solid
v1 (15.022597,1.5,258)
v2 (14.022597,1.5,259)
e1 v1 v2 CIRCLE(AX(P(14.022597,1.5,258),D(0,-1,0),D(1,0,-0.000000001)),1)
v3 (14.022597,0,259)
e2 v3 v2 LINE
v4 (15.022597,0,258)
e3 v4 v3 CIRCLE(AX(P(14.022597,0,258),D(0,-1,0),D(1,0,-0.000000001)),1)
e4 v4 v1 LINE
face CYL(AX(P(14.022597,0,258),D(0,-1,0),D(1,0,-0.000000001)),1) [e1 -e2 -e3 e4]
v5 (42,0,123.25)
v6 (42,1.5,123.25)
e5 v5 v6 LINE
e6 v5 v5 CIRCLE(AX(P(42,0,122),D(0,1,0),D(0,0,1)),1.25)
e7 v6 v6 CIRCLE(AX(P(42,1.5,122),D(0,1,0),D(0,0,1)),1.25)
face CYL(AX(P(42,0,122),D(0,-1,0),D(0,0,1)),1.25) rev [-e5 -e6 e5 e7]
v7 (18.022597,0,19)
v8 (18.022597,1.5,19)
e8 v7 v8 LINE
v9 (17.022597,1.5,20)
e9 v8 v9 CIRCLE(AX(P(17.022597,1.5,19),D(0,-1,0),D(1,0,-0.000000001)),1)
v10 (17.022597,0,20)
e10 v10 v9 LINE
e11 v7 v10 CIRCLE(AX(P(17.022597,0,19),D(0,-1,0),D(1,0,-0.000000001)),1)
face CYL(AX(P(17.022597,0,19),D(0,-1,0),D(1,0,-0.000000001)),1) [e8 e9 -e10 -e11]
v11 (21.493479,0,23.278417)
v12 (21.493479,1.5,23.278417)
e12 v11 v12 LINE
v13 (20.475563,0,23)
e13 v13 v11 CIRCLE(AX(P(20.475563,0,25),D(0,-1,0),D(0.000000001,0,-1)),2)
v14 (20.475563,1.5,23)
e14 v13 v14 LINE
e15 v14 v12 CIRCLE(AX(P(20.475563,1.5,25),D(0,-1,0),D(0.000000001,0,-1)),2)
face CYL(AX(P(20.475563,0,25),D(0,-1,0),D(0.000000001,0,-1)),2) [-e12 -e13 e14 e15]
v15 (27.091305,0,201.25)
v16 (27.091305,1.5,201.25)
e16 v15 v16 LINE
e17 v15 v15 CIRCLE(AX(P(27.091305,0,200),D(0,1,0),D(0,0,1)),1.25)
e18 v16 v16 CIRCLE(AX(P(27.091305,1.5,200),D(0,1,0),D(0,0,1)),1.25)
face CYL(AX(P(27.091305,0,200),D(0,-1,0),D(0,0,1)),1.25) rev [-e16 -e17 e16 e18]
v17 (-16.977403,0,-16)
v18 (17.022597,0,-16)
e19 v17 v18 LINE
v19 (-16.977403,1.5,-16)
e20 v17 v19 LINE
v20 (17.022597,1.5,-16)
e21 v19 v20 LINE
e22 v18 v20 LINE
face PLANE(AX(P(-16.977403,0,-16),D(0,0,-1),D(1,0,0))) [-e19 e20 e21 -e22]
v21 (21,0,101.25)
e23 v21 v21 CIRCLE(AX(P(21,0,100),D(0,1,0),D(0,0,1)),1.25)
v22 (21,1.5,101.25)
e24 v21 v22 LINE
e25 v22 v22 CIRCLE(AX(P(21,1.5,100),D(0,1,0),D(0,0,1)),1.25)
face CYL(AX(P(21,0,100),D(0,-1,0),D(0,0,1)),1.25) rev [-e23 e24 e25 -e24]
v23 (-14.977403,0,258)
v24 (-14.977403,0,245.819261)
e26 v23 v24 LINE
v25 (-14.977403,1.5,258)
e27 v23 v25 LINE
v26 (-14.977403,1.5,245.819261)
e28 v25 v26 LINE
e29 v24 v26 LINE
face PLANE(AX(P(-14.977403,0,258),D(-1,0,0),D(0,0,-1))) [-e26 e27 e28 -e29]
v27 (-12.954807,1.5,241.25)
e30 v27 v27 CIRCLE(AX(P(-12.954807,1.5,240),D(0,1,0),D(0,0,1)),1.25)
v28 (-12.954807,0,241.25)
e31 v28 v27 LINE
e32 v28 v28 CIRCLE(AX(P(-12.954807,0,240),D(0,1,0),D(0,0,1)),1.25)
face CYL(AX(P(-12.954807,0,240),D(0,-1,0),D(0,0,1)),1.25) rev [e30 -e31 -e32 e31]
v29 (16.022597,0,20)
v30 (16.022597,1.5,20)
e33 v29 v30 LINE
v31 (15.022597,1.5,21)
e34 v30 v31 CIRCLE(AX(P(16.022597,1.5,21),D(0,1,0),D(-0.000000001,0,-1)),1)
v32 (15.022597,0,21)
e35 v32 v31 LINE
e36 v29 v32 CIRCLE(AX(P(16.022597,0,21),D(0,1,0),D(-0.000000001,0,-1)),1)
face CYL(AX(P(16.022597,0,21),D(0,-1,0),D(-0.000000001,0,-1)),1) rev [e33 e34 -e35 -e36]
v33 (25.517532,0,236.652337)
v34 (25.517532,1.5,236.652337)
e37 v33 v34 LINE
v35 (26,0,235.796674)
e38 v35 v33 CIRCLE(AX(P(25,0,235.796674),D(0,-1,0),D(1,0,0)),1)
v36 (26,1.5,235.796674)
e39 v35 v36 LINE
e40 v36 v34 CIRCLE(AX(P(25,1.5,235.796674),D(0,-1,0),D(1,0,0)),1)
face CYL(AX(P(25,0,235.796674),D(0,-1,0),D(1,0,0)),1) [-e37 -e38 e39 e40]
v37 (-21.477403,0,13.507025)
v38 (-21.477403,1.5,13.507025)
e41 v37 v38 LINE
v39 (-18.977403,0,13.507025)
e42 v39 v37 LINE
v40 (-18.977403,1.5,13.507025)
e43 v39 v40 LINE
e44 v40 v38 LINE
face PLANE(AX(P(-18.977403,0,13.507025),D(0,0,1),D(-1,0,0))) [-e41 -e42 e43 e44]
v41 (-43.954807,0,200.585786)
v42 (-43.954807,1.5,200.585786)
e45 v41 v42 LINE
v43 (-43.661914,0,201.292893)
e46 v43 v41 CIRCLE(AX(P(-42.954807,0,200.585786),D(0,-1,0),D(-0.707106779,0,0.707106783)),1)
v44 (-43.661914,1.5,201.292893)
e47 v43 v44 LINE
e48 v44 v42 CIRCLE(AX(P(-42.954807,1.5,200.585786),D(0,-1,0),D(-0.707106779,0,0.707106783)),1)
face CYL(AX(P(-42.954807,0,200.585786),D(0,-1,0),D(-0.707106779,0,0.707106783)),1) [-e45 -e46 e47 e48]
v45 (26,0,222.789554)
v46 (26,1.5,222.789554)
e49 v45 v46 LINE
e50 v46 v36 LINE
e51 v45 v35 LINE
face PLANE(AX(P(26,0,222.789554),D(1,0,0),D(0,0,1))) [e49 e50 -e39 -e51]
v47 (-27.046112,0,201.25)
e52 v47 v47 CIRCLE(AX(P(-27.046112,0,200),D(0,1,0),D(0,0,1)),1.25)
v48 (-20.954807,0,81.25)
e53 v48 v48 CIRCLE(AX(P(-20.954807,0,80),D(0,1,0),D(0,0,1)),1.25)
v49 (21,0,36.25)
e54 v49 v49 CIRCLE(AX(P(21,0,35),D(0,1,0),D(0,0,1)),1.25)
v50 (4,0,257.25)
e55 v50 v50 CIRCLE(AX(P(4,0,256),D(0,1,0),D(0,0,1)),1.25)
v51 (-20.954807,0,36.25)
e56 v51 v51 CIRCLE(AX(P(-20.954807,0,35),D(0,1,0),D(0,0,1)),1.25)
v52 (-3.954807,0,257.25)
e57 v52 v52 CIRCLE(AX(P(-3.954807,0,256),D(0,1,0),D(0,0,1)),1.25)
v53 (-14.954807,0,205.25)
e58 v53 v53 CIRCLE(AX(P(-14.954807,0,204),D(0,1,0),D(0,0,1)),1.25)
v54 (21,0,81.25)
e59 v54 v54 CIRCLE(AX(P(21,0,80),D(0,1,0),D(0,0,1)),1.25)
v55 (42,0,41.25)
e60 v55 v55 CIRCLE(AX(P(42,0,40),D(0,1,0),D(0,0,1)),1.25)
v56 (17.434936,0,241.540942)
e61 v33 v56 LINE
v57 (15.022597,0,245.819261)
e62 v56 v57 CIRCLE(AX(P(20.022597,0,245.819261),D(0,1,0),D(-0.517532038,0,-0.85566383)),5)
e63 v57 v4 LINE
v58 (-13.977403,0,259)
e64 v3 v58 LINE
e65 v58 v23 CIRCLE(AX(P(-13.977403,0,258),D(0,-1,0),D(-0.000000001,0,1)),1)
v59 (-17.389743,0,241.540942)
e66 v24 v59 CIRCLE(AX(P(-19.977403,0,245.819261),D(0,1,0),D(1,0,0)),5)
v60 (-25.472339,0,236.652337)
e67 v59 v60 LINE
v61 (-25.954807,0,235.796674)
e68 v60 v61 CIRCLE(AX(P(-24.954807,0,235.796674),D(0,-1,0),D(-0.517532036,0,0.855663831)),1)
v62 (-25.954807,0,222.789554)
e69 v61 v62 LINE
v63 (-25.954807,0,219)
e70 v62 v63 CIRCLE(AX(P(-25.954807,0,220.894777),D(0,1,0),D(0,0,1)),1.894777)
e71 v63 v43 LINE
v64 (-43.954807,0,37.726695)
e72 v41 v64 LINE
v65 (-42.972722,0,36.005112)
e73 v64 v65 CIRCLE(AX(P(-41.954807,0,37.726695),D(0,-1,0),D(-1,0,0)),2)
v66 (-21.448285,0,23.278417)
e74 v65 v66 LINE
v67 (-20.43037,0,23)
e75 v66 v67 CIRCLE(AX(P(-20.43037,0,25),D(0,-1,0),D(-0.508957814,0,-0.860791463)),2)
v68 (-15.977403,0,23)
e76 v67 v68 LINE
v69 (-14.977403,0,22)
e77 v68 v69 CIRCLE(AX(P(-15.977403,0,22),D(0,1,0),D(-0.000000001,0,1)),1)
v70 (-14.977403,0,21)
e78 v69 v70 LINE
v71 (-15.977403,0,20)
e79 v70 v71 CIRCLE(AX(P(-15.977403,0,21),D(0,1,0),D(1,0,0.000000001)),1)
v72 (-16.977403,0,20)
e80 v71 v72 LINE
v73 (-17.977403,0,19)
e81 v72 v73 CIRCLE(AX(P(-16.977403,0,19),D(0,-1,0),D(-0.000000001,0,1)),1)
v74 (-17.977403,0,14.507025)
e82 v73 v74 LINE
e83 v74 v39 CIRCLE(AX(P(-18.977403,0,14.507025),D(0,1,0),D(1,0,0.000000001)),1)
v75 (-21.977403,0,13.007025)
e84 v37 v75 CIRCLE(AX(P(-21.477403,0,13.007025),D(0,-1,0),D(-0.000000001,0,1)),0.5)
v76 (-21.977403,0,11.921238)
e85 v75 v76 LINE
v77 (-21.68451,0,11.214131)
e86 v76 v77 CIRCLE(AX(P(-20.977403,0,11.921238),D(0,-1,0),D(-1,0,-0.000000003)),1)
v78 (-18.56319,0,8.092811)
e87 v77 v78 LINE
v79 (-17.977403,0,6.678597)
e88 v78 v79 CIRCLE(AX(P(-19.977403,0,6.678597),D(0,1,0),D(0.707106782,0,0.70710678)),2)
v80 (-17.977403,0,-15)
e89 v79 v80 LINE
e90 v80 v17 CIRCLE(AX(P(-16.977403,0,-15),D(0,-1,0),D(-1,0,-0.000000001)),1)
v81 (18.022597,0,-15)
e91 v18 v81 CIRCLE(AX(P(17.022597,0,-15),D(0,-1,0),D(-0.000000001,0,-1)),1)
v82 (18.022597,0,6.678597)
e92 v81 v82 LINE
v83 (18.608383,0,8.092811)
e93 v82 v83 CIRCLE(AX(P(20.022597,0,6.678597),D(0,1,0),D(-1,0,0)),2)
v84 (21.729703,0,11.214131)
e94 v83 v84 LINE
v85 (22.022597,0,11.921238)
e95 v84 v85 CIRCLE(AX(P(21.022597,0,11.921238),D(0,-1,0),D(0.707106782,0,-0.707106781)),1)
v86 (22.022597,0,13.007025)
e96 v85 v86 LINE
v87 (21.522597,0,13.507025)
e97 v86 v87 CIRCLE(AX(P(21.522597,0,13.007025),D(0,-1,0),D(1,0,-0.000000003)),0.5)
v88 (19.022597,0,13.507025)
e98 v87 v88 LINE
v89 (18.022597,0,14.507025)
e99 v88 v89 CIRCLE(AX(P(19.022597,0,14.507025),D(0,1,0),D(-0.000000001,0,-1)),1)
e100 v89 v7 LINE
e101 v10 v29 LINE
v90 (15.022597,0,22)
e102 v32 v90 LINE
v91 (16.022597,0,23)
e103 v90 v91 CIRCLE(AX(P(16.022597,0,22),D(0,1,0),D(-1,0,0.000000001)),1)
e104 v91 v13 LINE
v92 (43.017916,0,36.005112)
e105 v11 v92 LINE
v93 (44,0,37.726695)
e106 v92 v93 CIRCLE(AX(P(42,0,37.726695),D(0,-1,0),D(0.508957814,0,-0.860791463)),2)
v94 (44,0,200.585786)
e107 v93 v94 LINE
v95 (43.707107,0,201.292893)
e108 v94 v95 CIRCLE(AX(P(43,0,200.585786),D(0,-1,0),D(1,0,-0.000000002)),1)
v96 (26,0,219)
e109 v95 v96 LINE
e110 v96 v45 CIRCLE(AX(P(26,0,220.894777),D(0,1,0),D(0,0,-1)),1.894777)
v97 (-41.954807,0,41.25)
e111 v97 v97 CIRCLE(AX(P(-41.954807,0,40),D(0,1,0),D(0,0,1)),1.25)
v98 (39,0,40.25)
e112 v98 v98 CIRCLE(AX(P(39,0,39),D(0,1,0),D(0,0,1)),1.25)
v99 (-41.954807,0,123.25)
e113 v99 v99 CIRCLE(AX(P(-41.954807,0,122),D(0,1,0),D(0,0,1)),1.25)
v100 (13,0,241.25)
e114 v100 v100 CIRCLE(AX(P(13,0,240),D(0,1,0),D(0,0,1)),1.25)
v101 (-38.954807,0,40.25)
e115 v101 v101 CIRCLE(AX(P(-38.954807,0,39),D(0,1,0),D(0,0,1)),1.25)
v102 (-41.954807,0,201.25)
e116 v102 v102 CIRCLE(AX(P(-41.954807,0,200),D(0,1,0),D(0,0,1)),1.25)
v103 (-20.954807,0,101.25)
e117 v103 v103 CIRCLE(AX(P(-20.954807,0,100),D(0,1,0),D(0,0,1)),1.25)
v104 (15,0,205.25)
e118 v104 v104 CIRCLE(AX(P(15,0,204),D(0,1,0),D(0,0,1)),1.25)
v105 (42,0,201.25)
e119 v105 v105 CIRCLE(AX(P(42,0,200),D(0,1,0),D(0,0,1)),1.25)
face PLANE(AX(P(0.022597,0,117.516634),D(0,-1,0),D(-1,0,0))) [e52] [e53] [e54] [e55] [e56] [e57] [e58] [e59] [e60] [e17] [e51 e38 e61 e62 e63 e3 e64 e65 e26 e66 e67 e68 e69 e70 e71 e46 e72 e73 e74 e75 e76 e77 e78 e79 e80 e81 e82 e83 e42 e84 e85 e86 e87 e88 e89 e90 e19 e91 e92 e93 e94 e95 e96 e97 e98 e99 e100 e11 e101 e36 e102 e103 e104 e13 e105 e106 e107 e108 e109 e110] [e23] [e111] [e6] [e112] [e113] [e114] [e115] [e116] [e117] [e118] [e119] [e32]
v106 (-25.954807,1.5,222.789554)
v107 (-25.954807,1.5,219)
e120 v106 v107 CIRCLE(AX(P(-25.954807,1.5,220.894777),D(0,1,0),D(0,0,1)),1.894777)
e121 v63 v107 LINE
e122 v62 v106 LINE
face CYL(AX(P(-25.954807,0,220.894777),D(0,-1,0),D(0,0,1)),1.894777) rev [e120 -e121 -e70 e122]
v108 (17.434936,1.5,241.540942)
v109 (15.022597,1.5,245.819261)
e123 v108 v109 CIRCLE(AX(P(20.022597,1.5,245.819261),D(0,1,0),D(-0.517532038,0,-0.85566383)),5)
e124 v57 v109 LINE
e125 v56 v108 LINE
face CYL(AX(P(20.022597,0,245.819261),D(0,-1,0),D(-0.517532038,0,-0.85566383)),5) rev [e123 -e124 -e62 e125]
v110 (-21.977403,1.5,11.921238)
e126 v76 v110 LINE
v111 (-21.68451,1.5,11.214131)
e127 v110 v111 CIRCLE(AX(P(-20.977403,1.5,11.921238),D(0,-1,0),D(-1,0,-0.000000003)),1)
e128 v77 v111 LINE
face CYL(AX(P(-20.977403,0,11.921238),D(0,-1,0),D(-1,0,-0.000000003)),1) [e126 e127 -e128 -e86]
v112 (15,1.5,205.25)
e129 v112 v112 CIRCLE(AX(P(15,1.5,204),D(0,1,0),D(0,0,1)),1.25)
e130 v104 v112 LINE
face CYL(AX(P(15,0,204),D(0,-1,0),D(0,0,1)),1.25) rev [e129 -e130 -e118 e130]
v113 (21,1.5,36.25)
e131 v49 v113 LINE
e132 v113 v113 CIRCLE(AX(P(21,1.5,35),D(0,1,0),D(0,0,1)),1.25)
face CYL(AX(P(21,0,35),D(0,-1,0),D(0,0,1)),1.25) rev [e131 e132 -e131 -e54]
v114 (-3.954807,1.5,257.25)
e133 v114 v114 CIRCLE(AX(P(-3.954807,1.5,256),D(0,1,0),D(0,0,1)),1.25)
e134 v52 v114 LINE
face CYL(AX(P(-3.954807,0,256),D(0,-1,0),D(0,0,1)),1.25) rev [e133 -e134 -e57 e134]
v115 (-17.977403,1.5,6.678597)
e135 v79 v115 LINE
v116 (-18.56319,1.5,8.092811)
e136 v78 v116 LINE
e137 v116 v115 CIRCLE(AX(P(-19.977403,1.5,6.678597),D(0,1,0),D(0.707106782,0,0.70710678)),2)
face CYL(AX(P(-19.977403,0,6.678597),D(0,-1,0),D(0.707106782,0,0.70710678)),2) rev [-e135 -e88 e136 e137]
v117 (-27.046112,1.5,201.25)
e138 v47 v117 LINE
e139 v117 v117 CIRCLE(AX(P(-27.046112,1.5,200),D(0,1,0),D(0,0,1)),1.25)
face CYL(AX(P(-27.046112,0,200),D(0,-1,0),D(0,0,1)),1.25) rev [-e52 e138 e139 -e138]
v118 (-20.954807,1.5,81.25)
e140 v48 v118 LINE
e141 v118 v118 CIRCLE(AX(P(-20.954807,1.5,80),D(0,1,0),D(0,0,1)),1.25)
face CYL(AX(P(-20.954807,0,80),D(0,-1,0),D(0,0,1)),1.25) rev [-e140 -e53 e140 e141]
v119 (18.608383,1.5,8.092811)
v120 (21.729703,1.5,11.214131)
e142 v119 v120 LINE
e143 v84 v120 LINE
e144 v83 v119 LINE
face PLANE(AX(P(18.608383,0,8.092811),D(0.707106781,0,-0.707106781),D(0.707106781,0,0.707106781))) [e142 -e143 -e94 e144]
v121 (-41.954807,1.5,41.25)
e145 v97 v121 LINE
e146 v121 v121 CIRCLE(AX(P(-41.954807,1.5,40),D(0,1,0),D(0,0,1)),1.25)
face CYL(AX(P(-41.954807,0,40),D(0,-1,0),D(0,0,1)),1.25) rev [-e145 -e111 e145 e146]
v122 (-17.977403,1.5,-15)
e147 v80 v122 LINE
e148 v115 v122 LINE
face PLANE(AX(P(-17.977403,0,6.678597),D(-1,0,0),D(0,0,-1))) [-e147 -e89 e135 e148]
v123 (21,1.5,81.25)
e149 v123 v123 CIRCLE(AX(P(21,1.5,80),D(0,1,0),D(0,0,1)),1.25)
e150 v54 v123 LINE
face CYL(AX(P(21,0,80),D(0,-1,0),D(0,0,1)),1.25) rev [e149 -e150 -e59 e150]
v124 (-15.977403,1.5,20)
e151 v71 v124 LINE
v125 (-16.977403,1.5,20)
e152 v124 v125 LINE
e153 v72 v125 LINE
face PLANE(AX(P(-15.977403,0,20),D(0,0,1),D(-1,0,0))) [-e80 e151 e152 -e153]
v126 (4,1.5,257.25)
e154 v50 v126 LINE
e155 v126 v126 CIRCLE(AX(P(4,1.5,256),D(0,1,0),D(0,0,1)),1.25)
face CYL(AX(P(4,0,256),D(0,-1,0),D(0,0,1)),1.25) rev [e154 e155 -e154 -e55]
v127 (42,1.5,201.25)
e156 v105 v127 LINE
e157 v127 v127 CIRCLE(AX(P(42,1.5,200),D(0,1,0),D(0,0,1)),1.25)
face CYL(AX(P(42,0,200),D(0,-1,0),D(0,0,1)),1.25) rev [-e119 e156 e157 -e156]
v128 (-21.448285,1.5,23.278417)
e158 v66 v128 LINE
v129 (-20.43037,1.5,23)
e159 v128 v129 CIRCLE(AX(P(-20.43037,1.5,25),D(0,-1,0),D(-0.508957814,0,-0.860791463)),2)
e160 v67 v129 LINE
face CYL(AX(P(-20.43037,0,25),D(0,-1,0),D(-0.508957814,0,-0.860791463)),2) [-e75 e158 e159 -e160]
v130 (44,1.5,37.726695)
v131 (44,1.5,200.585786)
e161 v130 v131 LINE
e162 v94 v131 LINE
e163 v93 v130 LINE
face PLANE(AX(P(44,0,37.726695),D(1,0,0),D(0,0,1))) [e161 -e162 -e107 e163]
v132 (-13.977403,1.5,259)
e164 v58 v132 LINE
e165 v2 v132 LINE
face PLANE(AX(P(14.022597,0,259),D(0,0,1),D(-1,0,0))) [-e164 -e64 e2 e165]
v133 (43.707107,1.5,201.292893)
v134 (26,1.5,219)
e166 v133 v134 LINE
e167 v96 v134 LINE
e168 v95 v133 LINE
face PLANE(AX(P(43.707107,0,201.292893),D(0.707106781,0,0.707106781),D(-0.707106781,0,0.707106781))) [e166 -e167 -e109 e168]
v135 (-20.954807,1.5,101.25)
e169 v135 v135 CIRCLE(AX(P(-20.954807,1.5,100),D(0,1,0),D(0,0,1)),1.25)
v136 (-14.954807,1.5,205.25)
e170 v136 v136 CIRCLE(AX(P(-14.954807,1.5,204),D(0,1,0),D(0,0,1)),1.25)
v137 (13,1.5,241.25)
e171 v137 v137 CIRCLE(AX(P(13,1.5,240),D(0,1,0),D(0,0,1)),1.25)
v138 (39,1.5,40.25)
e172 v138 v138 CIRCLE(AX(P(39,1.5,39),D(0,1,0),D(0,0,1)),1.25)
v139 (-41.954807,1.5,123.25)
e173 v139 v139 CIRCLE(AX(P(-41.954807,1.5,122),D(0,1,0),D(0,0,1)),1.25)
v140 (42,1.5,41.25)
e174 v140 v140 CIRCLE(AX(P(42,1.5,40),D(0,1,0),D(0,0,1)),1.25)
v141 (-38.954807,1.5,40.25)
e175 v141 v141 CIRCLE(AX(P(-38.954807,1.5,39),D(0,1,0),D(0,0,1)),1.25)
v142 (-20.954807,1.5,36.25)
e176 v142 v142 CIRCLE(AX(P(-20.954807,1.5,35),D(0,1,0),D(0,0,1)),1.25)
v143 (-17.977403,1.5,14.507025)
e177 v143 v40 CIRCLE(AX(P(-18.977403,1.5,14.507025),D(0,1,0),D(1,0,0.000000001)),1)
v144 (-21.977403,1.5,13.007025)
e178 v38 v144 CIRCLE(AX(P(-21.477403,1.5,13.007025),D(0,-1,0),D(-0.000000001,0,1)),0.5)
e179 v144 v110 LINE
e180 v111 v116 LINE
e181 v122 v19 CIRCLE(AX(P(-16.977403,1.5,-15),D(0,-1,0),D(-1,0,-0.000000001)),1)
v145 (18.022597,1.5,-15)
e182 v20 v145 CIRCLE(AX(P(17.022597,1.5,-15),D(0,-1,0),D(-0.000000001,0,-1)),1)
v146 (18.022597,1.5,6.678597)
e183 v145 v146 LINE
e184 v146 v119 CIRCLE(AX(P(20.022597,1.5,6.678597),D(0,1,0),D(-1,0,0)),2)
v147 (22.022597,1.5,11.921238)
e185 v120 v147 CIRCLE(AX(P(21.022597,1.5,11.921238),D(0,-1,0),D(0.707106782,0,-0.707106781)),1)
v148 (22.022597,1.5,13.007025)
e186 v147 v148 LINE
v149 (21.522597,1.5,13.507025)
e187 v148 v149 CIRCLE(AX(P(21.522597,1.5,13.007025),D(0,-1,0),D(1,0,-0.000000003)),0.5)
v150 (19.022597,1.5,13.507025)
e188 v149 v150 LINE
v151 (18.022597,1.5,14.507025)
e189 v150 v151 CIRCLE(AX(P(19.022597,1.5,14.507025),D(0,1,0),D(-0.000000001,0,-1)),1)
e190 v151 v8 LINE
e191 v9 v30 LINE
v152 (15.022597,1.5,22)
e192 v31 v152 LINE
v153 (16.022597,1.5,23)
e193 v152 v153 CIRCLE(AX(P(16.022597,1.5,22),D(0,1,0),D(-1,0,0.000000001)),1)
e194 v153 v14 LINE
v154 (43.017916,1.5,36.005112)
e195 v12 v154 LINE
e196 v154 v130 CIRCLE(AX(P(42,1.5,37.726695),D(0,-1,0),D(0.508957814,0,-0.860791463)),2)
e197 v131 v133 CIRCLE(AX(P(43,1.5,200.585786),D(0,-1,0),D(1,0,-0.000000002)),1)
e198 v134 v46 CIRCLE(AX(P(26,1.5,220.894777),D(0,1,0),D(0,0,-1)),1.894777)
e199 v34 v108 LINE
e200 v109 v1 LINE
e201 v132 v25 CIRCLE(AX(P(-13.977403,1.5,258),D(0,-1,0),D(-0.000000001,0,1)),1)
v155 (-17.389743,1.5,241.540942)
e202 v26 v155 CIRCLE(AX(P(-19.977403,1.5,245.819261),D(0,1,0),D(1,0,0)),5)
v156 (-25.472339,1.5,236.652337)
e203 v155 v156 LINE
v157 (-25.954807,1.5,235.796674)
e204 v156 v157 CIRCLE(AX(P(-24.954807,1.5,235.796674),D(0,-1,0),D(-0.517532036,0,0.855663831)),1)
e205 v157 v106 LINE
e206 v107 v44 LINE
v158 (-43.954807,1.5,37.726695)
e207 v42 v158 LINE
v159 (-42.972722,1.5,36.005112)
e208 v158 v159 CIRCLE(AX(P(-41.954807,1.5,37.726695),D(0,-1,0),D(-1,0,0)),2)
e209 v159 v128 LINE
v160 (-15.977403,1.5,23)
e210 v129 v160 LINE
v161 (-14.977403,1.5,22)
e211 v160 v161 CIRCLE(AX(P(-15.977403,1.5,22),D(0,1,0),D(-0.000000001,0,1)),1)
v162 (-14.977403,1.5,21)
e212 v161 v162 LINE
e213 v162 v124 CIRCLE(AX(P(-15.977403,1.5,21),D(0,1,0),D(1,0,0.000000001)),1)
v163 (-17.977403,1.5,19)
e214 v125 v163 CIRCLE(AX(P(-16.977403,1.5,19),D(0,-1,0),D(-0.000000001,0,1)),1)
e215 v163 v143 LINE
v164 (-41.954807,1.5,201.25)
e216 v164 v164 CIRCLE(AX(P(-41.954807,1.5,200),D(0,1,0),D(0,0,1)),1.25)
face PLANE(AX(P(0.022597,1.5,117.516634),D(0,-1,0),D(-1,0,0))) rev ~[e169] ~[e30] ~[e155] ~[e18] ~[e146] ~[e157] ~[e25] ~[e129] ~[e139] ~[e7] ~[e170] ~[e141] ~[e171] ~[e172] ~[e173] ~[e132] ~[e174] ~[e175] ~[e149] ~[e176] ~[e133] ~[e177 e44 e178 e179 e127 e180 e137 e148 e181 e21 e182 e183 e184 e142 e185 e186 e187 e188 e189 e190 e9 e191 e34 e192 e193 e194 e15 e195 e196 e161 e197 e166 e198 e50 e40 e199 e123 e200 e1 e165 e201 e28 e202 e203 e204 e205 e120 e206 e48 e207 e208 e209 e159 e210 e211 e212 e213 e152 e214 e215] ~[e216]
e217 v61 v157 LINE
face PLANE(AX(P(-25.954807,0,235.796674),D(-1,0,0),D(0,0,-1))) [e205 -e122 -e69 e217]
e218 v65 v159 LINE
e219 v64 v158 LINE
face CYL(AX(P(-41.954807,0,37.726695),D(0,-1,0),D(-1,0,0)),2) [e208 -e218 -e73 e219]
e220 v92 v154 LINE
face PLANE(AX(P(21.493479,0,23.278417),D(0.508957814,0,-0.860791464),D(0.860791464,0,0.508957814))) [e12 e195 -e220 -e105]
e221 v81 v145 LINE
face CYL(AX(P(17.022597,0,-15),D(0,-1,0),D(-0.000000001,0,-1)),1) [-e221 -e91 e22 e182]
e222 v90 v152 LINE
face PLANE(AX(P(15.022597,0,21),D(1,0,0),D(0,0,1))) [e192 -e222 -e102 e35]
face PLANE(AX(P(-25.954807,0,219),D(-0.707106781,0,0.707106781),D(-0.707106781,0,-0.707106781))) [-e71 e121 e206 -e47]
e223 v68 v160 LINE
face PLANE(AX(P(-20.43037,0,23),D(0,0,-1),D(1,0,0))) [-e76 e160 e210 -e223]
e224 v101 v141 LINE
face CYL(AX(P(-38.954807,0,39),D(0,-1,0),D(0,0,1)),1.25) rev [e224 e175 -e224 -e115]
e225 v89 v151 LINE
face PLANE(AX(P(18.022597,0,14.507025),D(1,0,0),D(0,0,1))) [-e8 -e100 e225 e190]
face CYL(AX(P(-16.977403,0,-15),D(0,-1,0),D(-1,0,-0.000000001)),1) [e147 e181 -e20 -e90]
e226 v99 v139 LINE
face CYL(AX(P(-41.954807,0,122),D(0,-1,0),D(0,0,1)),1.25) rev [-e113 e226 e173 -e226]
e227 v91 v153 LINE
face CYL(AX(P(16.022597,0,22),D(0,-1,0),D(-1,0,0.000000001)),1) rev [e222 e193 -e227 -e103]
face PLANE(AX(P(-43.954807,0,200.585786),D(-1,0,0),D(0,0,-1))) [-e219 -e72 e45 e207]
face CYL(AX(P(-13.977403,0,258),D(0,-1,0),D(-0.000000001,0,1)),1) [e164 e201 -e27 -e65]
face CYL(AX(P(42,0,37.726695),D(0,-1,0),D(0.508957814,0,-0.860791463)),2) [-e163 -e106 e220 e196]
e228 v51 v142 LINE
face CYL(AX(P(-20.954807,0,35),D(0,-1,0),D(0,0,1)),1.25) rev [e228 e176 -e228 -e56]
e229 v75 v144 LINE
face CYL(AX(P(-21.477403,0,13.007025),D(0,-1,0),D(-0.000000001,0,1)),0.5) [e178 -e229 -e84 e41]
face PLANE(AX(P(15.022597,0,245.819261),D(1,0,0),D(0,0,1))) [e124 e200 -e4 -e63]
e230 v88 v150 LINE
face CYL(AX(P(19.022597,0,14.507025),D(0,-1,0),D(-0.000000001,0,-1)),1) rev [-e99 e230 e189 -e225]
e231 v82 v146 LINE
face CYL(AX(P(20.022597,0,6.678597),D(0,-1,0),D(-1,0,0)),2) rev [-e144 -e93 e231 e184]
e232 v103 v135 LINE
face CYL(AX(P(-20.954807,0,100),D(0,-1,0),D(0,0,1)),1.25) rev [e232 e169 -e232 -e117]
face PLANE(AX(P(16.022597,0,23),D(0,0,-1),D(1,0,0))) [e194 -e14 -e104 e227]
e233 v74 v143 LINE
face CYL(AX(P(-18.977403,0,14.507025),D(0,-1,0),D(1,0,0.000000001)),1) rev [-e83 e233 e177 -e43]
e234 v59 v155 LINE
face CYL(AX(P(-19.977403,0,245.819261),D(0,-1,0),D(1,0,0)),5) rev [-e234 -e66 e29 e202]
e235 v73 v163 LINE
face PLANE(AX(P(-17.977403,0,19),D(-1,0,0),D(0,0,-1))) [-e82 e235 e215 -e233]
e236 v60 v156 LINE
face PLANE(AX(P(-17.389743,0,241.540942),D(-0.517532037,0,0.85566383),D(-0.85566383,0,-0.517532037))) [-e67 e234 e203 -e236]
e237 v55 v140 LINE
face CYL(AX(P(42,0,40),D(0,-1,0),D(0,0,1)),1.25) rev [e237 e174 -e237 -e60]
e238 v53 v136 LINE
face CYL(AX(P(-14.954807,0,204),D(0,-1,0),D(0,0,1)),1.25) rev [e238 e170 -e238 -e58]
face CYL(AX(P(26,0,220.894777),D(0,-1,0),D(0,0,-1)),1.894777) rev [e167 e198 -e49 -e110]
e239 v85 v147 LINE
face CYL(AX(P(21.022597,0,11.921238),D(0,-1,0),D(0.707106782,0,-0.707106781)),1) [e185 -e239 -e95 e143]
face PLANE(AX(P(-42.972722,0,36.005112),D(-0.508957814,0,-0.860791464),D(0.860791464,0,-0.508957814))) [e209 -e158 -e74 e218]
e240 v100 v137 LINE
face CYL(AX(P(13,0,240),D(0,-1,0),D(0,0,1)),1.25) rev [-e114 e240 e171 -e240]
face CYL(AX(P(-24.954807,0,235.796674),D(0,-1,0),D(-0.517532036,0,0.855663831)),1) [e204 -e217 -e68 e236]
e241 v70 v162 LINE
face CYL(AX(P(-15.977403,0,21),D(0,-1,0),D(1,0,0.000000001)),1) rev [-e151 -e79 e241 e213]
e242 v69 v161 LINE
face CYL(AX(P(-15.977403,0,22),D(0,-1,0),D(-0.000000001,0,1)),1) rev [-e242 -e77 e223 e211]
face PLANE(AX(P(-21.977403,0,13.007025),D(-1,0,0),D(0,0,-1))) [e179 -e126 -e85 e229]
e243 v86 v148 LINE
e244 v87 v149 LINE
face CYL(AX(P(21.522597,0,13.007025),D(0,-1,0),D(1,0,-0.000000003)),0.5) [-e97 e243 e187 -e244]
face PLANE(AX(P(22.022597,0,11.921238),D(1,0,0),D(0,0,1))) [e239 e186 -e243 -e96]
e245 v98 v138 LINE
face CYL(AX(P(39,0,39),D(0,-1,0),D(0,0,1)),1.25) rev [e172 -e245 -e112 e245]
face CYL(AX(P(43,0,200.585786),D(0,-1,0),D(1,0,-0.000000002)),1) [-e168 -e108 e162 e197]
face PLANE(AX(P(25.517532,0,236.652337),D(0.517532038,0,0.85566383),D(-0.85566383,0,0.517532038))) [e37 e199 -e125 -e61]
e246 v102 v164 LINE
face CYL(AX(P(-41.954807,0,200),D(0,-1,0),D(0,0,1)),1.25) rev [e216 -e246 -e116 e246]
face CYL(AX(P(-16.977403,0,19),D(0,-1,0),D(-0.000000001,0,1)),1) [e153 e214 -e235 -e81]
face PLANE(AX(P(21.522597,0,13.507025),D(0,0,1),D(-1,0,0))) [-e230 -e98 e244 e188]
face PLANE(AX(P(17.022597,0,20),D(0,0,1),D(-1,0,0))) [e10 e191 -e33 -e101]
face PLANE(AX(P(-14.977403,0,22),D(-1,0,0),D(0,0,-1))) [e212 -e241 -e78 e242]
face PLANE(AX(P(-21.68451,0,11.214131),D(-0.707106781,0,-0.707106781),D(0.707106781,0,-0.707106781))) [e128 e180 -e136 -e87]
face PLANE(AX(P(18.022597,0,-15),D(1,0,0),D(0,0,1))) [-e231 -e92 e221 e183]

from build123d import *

# Parameters (mm, degrees)
SKETCH2_R           = 1.25
BOSS_EXTRUDE1_DEPTH = 1.5


with BuildPart() as part:
    # Sketch2 → Boss-Extrude1 (new body)
    with BuildSketch(Plane(origin=(0, 0, 0), x_dir=(1, 0, 0), z_dir=(0, 1, 0))):
        with BuildLine():
            Line((44, -37.726695025), (44, -200.585786438))
            ThreePointArc((44, -200.585786438), (43.923879533, -200.96846987), (43.707106781, -201.292893219))
            Line((43.707106781, -201.292893219), (26, -219))
            ThreePointArc((26, -219), (24.105222952, -220.894777048), (26, -222.789554095))
            Line((26, -222.789554095), (26, -235.796673544))
            ThreePointArc((26, -235.796673544), (25.871071764, -236.287829305), (25.517532037, -236.652337374))
            Line((25.517532037, -236.652337374), (17.434936424, -241.540942021))
            ThreePointArc((17.434936424, -241.540942021), (15.667237789, -243.363482369), (15.022596611, -245.819261172))
            Line((15.022596611, -245.819261172), (15.022596611, -258))
            ThreePointArc((15.022596611, -258), (14.729703393, -258.707106781), (14.022596611, -259))
            Line((14.022596611, -259), (-13.977403389, -259))
            ThreePointArc((-13.977403389, -259), (-14.68451017, -258.707106781), (-14.977403389, -258))
            Line((-14.977403389, -258), (-14.977403389, -245.819261172))
            ThreePointArc((-14.977403389, -245.819261172), (-15.622044567, -243.363482369), (-17.389743201, -241.540942021))
            Line((-17.389743201, -241.540942021), (-25.472338815, -236.652337374))
            ThreePointArc((-25.472338815, -236.652337374), (-25.825878542, -236.287829305), (-25.954806777, -235.796673544))
            Line((-25.954806777, -235.796673544), (-25.954806777, -222.789554095))
            ThreePointArc((-25.954806777, -222.789554095), (-24.06002973, -220.894777048), (-25.954806777, -219))
            Line((-25.954806777, -219), (-43.661913558, -201.292893219))
            ThreePointArc((-43.661913558, -201.292893219), (-43.87868631, -200.96846987), (-43.954806777, -200.585786438))
            Line((-43.954806777, -200.585786438), (-43.954806777, -37.726695025))
            ThreePointArc((-43.954806777, -37.726695025), (-43.692021682, -36.735693323), (-42.972722404, -36.005112097))
            Line((-42.972722404, -36.005112097), (-21.448285322, -23.278417073))
            ThreePointArc((-21.448285322, -23.278417073), (-20.958022112, -23.070859537), (-20.430369695, -23))
            Line((-20.430369695, -23), (-15.977403389, -23))
            ThreePointArc((-15.977403389, -23), (-15.270296607, -22.707106781), (-14.977403389, -22))
            Line((-14.977403389, -22), (-14.977403389, -21))
            ThreePointArc((-14.977403389, -21), (-15.270296607, -20.292893219), (-15.977403389, -20))
            Line((-15.977403389, -20), (-16.977403389, -20))
            ThreePointArc((-16.977403389, -20), (-17.68451017, -19.707106781), (-17.977403389, -19))
            Line((-17.977403389, -19), (-17.977403389, -14.507024567))
            ThreePointArc((-17.977403389, -14.507024567), (-18.270296607, -13.799917786), (-18.977403389, -13.507024567))
            Line((-18.977403389, -13.507024567), (-21.477403389, -13.507024567))
            ThreePointArc((-21.477403389, -13.507024567), (-21.830956779, -13.360577958), (-21.977403389, -13.007024567))
            Line((-21.977403389, -13.007024567), (-21.977403389, -11.921238129))
            ThreePointArc((-21.977403389, -11.921238129), (-21.901282921, -11.538554697), (-21.68451017, -11.214131348))
            Line((-21.68451017, -11.214131348), (-18.563189826, -8.092811005))
            ThreePointArc((-18.563189826, -8.092811005), (-18.129644324, -7.443964307), (-17.977403389, -6.678597442))
            Line((-17.977403389, -6.678597442), (-17.977403389, 15))
            ThreePointArc((-17.977403389, 15), (-17.68451017, 15.707106781), (-16.977403389, 16))
            Line((-16.977403389, 16), (17.022596611, 16))
            ThreePointArc((17.022596611, 16), (17.729703393, 15.707106781), (18.022596611, 15))
            Line((18.022596611, 15), (18.022596611, -6.678597442))
            ThreePointArc((18.022596611, -6.678597442), (18.174837546, -7.443964307), (18.608383049, -8.092811005))
            Line((18.608383049, -8.092811005), (21.729703393, -11.214131348))
            ThreePointArc((21.729703393, -11.214131348), (21.946476144, -11.538554697), (22.022596611, -11.921238129))
            Line((22.022596611, -11.921238129), (22.022596611, -13.007024567))
            ThreePointArc((22.022596611, -13.007024567), (21.876150002, -13.360577958), (21.522596611, -13.507024567))
            Line((21.522596611, -13.507024567), (19.022596611, -13.507024567))
            ThreePointArc((19.022596611, -13.507024567), (18.31548983, -13.799917786), (18.022596611, -14.507024567))
            Line((18.022596611, -14.507024567), (18.022596611, -19))
            ThreePointArc((18.022596611, -19), (17.729703393, -19.707106781), (17.022596611, -20))
            Line((17.022596611, -20), (16.022596611, -20))
            ThreePointArc((16.022596611, -20), (15.31548983, -20.292893219), (15.022596611, -21))
            Line((15.022596611, -21), (15.022596611, -22))
            ThreePointArc((15.022596611, -22), (15.31548983, -22.707106781), (16.022596611, -23))
            Line((16.022596611, -23), (20.475562918, -23))
            ThreePointArc((20.475562918, -23), (21.003215334, -23.070859537), (21.493478545, -23.278417073))
            Line((21.493478545, -23.278417073), (43.017915627, -36.005112097))
            ThreePointArc((43.017915627, -36.005112097), (43.737214905, -36.735693323), (44, -37.726695025))
        make_face()
        with Locations(Location((42, -200, 0), (0, 0, 270))):
            Circle(SKETCH2_R, mode=Mode.SUBTRACT)
        with Locations(Location((27.091305327, -200, 0), (0, 0, 270))):
            Circle(SKETCH2_R, mode=Mode.SUBTRACT)
        with Locations(Location((4, -256, 0), (0, 0, 270))):
            Circle(SKETCH2_R, mode=Mode.SUBTRACT)
        with Locations(Location((13, -240, 0), (0, 0, 270))):
            Circle(SKETCH2_R, mode=Mode.SUBTRACT)
        with Locations(Location((15, -204, 0), (0, 0, 270))):
            Circle(SKETCH2_R, mode=Mode.SUBTRACT)
        with Locations(Location((42, -40, 0), (0, 0, 270))):
            Circle(SKETCH2_R, mode=Mode.SUBTRACT)
        with Locations(Location((39, -39, 0), (0, 0, 270))):
            Circle(SKETCH2_R, mode=Mode.SUBTRACT)
        with Locations(Location((21, -35, 0), (0, 0, 270))):
            Circle(SKETCH2_R, mode=Mode.SUBTRACT)
        with Locations(Location((42, -122, 0), (0, 0, 270))):
            Circle(SKETCH2_R, mode=Mode.SUBTRACT)
        with Locations(Location((21, -100, 0), (0, 0, 270))):
            Circle(SKETCH2_R, mode=Mode.SUBTRACT)
        with Locations(Location((21, -80, 0), (0, 0, 270))):
            Circle(SKETCH2_R, mode=Mode.SUBTRACT)
        with Locations(Location((-20.954806777, -80, 0), (0, 0, 270))):
            Circle(SKETCH2_R, mode=Mode.SUBTRACT)
        with Locations(Location((-20.954806777, -100, 0), (0, 0, 270))):
            Circle(SKETCH2_R, mode=Mode.SUBTRACT)
        with Locations(Location((-41.954806777, -122, 0), (0, 0, 270))):
            Circle(SKETCH2_R, mode=Mode.SUBTRACT)
        with Locations(Location((-20.954806777, -35, 0), (0, 0, 270))):
            Circle(SKETCH2_R, mode=Mode.SUBTRACT)
        with Locations(Location((-38.954806777, -39, 0), (0, 0, 270))):
            Circle(SKETCH2_R, mode=Mode.SUBTRACT)
        with Locations(Location((-41.954806777, -40, 0), (0, 0, 270))):
            Circle(SKETCH2_R, mode=Mode.SUBTRACT)
        with Locations(Location((-14.954806777, -204, 0), (0, 0, 270))):
            Circle(SKETCH2_R, mode=Mode.SUBTRACT)
        with Locations(Location((-12.954806777, -240, 0), (0, 0, 270))):
            Circle(SKETCH2_R, mode=Mode.SUBTRACT)
        with Locations(Location((-3.954806777, -256, 0), (0, 0, 270))):
            Circle(SKETCH2_R, mode=Mode.SUBTRACT)
        with Locations(Location((-27.046112104, -200, 0), (0, 0, 270))):
            Circle(SKETCH2_R, mode=Mode.SUBTRACT)
        with Locations(Location((-41.954806777, -200, 0), (0, 0, 270))):
            Circle(SKETCH2_R, mode=Mode.SUBTRACT)
    extrude(amount=BOSS_EXTRUDE1_DEPTH)


solid = part.part
